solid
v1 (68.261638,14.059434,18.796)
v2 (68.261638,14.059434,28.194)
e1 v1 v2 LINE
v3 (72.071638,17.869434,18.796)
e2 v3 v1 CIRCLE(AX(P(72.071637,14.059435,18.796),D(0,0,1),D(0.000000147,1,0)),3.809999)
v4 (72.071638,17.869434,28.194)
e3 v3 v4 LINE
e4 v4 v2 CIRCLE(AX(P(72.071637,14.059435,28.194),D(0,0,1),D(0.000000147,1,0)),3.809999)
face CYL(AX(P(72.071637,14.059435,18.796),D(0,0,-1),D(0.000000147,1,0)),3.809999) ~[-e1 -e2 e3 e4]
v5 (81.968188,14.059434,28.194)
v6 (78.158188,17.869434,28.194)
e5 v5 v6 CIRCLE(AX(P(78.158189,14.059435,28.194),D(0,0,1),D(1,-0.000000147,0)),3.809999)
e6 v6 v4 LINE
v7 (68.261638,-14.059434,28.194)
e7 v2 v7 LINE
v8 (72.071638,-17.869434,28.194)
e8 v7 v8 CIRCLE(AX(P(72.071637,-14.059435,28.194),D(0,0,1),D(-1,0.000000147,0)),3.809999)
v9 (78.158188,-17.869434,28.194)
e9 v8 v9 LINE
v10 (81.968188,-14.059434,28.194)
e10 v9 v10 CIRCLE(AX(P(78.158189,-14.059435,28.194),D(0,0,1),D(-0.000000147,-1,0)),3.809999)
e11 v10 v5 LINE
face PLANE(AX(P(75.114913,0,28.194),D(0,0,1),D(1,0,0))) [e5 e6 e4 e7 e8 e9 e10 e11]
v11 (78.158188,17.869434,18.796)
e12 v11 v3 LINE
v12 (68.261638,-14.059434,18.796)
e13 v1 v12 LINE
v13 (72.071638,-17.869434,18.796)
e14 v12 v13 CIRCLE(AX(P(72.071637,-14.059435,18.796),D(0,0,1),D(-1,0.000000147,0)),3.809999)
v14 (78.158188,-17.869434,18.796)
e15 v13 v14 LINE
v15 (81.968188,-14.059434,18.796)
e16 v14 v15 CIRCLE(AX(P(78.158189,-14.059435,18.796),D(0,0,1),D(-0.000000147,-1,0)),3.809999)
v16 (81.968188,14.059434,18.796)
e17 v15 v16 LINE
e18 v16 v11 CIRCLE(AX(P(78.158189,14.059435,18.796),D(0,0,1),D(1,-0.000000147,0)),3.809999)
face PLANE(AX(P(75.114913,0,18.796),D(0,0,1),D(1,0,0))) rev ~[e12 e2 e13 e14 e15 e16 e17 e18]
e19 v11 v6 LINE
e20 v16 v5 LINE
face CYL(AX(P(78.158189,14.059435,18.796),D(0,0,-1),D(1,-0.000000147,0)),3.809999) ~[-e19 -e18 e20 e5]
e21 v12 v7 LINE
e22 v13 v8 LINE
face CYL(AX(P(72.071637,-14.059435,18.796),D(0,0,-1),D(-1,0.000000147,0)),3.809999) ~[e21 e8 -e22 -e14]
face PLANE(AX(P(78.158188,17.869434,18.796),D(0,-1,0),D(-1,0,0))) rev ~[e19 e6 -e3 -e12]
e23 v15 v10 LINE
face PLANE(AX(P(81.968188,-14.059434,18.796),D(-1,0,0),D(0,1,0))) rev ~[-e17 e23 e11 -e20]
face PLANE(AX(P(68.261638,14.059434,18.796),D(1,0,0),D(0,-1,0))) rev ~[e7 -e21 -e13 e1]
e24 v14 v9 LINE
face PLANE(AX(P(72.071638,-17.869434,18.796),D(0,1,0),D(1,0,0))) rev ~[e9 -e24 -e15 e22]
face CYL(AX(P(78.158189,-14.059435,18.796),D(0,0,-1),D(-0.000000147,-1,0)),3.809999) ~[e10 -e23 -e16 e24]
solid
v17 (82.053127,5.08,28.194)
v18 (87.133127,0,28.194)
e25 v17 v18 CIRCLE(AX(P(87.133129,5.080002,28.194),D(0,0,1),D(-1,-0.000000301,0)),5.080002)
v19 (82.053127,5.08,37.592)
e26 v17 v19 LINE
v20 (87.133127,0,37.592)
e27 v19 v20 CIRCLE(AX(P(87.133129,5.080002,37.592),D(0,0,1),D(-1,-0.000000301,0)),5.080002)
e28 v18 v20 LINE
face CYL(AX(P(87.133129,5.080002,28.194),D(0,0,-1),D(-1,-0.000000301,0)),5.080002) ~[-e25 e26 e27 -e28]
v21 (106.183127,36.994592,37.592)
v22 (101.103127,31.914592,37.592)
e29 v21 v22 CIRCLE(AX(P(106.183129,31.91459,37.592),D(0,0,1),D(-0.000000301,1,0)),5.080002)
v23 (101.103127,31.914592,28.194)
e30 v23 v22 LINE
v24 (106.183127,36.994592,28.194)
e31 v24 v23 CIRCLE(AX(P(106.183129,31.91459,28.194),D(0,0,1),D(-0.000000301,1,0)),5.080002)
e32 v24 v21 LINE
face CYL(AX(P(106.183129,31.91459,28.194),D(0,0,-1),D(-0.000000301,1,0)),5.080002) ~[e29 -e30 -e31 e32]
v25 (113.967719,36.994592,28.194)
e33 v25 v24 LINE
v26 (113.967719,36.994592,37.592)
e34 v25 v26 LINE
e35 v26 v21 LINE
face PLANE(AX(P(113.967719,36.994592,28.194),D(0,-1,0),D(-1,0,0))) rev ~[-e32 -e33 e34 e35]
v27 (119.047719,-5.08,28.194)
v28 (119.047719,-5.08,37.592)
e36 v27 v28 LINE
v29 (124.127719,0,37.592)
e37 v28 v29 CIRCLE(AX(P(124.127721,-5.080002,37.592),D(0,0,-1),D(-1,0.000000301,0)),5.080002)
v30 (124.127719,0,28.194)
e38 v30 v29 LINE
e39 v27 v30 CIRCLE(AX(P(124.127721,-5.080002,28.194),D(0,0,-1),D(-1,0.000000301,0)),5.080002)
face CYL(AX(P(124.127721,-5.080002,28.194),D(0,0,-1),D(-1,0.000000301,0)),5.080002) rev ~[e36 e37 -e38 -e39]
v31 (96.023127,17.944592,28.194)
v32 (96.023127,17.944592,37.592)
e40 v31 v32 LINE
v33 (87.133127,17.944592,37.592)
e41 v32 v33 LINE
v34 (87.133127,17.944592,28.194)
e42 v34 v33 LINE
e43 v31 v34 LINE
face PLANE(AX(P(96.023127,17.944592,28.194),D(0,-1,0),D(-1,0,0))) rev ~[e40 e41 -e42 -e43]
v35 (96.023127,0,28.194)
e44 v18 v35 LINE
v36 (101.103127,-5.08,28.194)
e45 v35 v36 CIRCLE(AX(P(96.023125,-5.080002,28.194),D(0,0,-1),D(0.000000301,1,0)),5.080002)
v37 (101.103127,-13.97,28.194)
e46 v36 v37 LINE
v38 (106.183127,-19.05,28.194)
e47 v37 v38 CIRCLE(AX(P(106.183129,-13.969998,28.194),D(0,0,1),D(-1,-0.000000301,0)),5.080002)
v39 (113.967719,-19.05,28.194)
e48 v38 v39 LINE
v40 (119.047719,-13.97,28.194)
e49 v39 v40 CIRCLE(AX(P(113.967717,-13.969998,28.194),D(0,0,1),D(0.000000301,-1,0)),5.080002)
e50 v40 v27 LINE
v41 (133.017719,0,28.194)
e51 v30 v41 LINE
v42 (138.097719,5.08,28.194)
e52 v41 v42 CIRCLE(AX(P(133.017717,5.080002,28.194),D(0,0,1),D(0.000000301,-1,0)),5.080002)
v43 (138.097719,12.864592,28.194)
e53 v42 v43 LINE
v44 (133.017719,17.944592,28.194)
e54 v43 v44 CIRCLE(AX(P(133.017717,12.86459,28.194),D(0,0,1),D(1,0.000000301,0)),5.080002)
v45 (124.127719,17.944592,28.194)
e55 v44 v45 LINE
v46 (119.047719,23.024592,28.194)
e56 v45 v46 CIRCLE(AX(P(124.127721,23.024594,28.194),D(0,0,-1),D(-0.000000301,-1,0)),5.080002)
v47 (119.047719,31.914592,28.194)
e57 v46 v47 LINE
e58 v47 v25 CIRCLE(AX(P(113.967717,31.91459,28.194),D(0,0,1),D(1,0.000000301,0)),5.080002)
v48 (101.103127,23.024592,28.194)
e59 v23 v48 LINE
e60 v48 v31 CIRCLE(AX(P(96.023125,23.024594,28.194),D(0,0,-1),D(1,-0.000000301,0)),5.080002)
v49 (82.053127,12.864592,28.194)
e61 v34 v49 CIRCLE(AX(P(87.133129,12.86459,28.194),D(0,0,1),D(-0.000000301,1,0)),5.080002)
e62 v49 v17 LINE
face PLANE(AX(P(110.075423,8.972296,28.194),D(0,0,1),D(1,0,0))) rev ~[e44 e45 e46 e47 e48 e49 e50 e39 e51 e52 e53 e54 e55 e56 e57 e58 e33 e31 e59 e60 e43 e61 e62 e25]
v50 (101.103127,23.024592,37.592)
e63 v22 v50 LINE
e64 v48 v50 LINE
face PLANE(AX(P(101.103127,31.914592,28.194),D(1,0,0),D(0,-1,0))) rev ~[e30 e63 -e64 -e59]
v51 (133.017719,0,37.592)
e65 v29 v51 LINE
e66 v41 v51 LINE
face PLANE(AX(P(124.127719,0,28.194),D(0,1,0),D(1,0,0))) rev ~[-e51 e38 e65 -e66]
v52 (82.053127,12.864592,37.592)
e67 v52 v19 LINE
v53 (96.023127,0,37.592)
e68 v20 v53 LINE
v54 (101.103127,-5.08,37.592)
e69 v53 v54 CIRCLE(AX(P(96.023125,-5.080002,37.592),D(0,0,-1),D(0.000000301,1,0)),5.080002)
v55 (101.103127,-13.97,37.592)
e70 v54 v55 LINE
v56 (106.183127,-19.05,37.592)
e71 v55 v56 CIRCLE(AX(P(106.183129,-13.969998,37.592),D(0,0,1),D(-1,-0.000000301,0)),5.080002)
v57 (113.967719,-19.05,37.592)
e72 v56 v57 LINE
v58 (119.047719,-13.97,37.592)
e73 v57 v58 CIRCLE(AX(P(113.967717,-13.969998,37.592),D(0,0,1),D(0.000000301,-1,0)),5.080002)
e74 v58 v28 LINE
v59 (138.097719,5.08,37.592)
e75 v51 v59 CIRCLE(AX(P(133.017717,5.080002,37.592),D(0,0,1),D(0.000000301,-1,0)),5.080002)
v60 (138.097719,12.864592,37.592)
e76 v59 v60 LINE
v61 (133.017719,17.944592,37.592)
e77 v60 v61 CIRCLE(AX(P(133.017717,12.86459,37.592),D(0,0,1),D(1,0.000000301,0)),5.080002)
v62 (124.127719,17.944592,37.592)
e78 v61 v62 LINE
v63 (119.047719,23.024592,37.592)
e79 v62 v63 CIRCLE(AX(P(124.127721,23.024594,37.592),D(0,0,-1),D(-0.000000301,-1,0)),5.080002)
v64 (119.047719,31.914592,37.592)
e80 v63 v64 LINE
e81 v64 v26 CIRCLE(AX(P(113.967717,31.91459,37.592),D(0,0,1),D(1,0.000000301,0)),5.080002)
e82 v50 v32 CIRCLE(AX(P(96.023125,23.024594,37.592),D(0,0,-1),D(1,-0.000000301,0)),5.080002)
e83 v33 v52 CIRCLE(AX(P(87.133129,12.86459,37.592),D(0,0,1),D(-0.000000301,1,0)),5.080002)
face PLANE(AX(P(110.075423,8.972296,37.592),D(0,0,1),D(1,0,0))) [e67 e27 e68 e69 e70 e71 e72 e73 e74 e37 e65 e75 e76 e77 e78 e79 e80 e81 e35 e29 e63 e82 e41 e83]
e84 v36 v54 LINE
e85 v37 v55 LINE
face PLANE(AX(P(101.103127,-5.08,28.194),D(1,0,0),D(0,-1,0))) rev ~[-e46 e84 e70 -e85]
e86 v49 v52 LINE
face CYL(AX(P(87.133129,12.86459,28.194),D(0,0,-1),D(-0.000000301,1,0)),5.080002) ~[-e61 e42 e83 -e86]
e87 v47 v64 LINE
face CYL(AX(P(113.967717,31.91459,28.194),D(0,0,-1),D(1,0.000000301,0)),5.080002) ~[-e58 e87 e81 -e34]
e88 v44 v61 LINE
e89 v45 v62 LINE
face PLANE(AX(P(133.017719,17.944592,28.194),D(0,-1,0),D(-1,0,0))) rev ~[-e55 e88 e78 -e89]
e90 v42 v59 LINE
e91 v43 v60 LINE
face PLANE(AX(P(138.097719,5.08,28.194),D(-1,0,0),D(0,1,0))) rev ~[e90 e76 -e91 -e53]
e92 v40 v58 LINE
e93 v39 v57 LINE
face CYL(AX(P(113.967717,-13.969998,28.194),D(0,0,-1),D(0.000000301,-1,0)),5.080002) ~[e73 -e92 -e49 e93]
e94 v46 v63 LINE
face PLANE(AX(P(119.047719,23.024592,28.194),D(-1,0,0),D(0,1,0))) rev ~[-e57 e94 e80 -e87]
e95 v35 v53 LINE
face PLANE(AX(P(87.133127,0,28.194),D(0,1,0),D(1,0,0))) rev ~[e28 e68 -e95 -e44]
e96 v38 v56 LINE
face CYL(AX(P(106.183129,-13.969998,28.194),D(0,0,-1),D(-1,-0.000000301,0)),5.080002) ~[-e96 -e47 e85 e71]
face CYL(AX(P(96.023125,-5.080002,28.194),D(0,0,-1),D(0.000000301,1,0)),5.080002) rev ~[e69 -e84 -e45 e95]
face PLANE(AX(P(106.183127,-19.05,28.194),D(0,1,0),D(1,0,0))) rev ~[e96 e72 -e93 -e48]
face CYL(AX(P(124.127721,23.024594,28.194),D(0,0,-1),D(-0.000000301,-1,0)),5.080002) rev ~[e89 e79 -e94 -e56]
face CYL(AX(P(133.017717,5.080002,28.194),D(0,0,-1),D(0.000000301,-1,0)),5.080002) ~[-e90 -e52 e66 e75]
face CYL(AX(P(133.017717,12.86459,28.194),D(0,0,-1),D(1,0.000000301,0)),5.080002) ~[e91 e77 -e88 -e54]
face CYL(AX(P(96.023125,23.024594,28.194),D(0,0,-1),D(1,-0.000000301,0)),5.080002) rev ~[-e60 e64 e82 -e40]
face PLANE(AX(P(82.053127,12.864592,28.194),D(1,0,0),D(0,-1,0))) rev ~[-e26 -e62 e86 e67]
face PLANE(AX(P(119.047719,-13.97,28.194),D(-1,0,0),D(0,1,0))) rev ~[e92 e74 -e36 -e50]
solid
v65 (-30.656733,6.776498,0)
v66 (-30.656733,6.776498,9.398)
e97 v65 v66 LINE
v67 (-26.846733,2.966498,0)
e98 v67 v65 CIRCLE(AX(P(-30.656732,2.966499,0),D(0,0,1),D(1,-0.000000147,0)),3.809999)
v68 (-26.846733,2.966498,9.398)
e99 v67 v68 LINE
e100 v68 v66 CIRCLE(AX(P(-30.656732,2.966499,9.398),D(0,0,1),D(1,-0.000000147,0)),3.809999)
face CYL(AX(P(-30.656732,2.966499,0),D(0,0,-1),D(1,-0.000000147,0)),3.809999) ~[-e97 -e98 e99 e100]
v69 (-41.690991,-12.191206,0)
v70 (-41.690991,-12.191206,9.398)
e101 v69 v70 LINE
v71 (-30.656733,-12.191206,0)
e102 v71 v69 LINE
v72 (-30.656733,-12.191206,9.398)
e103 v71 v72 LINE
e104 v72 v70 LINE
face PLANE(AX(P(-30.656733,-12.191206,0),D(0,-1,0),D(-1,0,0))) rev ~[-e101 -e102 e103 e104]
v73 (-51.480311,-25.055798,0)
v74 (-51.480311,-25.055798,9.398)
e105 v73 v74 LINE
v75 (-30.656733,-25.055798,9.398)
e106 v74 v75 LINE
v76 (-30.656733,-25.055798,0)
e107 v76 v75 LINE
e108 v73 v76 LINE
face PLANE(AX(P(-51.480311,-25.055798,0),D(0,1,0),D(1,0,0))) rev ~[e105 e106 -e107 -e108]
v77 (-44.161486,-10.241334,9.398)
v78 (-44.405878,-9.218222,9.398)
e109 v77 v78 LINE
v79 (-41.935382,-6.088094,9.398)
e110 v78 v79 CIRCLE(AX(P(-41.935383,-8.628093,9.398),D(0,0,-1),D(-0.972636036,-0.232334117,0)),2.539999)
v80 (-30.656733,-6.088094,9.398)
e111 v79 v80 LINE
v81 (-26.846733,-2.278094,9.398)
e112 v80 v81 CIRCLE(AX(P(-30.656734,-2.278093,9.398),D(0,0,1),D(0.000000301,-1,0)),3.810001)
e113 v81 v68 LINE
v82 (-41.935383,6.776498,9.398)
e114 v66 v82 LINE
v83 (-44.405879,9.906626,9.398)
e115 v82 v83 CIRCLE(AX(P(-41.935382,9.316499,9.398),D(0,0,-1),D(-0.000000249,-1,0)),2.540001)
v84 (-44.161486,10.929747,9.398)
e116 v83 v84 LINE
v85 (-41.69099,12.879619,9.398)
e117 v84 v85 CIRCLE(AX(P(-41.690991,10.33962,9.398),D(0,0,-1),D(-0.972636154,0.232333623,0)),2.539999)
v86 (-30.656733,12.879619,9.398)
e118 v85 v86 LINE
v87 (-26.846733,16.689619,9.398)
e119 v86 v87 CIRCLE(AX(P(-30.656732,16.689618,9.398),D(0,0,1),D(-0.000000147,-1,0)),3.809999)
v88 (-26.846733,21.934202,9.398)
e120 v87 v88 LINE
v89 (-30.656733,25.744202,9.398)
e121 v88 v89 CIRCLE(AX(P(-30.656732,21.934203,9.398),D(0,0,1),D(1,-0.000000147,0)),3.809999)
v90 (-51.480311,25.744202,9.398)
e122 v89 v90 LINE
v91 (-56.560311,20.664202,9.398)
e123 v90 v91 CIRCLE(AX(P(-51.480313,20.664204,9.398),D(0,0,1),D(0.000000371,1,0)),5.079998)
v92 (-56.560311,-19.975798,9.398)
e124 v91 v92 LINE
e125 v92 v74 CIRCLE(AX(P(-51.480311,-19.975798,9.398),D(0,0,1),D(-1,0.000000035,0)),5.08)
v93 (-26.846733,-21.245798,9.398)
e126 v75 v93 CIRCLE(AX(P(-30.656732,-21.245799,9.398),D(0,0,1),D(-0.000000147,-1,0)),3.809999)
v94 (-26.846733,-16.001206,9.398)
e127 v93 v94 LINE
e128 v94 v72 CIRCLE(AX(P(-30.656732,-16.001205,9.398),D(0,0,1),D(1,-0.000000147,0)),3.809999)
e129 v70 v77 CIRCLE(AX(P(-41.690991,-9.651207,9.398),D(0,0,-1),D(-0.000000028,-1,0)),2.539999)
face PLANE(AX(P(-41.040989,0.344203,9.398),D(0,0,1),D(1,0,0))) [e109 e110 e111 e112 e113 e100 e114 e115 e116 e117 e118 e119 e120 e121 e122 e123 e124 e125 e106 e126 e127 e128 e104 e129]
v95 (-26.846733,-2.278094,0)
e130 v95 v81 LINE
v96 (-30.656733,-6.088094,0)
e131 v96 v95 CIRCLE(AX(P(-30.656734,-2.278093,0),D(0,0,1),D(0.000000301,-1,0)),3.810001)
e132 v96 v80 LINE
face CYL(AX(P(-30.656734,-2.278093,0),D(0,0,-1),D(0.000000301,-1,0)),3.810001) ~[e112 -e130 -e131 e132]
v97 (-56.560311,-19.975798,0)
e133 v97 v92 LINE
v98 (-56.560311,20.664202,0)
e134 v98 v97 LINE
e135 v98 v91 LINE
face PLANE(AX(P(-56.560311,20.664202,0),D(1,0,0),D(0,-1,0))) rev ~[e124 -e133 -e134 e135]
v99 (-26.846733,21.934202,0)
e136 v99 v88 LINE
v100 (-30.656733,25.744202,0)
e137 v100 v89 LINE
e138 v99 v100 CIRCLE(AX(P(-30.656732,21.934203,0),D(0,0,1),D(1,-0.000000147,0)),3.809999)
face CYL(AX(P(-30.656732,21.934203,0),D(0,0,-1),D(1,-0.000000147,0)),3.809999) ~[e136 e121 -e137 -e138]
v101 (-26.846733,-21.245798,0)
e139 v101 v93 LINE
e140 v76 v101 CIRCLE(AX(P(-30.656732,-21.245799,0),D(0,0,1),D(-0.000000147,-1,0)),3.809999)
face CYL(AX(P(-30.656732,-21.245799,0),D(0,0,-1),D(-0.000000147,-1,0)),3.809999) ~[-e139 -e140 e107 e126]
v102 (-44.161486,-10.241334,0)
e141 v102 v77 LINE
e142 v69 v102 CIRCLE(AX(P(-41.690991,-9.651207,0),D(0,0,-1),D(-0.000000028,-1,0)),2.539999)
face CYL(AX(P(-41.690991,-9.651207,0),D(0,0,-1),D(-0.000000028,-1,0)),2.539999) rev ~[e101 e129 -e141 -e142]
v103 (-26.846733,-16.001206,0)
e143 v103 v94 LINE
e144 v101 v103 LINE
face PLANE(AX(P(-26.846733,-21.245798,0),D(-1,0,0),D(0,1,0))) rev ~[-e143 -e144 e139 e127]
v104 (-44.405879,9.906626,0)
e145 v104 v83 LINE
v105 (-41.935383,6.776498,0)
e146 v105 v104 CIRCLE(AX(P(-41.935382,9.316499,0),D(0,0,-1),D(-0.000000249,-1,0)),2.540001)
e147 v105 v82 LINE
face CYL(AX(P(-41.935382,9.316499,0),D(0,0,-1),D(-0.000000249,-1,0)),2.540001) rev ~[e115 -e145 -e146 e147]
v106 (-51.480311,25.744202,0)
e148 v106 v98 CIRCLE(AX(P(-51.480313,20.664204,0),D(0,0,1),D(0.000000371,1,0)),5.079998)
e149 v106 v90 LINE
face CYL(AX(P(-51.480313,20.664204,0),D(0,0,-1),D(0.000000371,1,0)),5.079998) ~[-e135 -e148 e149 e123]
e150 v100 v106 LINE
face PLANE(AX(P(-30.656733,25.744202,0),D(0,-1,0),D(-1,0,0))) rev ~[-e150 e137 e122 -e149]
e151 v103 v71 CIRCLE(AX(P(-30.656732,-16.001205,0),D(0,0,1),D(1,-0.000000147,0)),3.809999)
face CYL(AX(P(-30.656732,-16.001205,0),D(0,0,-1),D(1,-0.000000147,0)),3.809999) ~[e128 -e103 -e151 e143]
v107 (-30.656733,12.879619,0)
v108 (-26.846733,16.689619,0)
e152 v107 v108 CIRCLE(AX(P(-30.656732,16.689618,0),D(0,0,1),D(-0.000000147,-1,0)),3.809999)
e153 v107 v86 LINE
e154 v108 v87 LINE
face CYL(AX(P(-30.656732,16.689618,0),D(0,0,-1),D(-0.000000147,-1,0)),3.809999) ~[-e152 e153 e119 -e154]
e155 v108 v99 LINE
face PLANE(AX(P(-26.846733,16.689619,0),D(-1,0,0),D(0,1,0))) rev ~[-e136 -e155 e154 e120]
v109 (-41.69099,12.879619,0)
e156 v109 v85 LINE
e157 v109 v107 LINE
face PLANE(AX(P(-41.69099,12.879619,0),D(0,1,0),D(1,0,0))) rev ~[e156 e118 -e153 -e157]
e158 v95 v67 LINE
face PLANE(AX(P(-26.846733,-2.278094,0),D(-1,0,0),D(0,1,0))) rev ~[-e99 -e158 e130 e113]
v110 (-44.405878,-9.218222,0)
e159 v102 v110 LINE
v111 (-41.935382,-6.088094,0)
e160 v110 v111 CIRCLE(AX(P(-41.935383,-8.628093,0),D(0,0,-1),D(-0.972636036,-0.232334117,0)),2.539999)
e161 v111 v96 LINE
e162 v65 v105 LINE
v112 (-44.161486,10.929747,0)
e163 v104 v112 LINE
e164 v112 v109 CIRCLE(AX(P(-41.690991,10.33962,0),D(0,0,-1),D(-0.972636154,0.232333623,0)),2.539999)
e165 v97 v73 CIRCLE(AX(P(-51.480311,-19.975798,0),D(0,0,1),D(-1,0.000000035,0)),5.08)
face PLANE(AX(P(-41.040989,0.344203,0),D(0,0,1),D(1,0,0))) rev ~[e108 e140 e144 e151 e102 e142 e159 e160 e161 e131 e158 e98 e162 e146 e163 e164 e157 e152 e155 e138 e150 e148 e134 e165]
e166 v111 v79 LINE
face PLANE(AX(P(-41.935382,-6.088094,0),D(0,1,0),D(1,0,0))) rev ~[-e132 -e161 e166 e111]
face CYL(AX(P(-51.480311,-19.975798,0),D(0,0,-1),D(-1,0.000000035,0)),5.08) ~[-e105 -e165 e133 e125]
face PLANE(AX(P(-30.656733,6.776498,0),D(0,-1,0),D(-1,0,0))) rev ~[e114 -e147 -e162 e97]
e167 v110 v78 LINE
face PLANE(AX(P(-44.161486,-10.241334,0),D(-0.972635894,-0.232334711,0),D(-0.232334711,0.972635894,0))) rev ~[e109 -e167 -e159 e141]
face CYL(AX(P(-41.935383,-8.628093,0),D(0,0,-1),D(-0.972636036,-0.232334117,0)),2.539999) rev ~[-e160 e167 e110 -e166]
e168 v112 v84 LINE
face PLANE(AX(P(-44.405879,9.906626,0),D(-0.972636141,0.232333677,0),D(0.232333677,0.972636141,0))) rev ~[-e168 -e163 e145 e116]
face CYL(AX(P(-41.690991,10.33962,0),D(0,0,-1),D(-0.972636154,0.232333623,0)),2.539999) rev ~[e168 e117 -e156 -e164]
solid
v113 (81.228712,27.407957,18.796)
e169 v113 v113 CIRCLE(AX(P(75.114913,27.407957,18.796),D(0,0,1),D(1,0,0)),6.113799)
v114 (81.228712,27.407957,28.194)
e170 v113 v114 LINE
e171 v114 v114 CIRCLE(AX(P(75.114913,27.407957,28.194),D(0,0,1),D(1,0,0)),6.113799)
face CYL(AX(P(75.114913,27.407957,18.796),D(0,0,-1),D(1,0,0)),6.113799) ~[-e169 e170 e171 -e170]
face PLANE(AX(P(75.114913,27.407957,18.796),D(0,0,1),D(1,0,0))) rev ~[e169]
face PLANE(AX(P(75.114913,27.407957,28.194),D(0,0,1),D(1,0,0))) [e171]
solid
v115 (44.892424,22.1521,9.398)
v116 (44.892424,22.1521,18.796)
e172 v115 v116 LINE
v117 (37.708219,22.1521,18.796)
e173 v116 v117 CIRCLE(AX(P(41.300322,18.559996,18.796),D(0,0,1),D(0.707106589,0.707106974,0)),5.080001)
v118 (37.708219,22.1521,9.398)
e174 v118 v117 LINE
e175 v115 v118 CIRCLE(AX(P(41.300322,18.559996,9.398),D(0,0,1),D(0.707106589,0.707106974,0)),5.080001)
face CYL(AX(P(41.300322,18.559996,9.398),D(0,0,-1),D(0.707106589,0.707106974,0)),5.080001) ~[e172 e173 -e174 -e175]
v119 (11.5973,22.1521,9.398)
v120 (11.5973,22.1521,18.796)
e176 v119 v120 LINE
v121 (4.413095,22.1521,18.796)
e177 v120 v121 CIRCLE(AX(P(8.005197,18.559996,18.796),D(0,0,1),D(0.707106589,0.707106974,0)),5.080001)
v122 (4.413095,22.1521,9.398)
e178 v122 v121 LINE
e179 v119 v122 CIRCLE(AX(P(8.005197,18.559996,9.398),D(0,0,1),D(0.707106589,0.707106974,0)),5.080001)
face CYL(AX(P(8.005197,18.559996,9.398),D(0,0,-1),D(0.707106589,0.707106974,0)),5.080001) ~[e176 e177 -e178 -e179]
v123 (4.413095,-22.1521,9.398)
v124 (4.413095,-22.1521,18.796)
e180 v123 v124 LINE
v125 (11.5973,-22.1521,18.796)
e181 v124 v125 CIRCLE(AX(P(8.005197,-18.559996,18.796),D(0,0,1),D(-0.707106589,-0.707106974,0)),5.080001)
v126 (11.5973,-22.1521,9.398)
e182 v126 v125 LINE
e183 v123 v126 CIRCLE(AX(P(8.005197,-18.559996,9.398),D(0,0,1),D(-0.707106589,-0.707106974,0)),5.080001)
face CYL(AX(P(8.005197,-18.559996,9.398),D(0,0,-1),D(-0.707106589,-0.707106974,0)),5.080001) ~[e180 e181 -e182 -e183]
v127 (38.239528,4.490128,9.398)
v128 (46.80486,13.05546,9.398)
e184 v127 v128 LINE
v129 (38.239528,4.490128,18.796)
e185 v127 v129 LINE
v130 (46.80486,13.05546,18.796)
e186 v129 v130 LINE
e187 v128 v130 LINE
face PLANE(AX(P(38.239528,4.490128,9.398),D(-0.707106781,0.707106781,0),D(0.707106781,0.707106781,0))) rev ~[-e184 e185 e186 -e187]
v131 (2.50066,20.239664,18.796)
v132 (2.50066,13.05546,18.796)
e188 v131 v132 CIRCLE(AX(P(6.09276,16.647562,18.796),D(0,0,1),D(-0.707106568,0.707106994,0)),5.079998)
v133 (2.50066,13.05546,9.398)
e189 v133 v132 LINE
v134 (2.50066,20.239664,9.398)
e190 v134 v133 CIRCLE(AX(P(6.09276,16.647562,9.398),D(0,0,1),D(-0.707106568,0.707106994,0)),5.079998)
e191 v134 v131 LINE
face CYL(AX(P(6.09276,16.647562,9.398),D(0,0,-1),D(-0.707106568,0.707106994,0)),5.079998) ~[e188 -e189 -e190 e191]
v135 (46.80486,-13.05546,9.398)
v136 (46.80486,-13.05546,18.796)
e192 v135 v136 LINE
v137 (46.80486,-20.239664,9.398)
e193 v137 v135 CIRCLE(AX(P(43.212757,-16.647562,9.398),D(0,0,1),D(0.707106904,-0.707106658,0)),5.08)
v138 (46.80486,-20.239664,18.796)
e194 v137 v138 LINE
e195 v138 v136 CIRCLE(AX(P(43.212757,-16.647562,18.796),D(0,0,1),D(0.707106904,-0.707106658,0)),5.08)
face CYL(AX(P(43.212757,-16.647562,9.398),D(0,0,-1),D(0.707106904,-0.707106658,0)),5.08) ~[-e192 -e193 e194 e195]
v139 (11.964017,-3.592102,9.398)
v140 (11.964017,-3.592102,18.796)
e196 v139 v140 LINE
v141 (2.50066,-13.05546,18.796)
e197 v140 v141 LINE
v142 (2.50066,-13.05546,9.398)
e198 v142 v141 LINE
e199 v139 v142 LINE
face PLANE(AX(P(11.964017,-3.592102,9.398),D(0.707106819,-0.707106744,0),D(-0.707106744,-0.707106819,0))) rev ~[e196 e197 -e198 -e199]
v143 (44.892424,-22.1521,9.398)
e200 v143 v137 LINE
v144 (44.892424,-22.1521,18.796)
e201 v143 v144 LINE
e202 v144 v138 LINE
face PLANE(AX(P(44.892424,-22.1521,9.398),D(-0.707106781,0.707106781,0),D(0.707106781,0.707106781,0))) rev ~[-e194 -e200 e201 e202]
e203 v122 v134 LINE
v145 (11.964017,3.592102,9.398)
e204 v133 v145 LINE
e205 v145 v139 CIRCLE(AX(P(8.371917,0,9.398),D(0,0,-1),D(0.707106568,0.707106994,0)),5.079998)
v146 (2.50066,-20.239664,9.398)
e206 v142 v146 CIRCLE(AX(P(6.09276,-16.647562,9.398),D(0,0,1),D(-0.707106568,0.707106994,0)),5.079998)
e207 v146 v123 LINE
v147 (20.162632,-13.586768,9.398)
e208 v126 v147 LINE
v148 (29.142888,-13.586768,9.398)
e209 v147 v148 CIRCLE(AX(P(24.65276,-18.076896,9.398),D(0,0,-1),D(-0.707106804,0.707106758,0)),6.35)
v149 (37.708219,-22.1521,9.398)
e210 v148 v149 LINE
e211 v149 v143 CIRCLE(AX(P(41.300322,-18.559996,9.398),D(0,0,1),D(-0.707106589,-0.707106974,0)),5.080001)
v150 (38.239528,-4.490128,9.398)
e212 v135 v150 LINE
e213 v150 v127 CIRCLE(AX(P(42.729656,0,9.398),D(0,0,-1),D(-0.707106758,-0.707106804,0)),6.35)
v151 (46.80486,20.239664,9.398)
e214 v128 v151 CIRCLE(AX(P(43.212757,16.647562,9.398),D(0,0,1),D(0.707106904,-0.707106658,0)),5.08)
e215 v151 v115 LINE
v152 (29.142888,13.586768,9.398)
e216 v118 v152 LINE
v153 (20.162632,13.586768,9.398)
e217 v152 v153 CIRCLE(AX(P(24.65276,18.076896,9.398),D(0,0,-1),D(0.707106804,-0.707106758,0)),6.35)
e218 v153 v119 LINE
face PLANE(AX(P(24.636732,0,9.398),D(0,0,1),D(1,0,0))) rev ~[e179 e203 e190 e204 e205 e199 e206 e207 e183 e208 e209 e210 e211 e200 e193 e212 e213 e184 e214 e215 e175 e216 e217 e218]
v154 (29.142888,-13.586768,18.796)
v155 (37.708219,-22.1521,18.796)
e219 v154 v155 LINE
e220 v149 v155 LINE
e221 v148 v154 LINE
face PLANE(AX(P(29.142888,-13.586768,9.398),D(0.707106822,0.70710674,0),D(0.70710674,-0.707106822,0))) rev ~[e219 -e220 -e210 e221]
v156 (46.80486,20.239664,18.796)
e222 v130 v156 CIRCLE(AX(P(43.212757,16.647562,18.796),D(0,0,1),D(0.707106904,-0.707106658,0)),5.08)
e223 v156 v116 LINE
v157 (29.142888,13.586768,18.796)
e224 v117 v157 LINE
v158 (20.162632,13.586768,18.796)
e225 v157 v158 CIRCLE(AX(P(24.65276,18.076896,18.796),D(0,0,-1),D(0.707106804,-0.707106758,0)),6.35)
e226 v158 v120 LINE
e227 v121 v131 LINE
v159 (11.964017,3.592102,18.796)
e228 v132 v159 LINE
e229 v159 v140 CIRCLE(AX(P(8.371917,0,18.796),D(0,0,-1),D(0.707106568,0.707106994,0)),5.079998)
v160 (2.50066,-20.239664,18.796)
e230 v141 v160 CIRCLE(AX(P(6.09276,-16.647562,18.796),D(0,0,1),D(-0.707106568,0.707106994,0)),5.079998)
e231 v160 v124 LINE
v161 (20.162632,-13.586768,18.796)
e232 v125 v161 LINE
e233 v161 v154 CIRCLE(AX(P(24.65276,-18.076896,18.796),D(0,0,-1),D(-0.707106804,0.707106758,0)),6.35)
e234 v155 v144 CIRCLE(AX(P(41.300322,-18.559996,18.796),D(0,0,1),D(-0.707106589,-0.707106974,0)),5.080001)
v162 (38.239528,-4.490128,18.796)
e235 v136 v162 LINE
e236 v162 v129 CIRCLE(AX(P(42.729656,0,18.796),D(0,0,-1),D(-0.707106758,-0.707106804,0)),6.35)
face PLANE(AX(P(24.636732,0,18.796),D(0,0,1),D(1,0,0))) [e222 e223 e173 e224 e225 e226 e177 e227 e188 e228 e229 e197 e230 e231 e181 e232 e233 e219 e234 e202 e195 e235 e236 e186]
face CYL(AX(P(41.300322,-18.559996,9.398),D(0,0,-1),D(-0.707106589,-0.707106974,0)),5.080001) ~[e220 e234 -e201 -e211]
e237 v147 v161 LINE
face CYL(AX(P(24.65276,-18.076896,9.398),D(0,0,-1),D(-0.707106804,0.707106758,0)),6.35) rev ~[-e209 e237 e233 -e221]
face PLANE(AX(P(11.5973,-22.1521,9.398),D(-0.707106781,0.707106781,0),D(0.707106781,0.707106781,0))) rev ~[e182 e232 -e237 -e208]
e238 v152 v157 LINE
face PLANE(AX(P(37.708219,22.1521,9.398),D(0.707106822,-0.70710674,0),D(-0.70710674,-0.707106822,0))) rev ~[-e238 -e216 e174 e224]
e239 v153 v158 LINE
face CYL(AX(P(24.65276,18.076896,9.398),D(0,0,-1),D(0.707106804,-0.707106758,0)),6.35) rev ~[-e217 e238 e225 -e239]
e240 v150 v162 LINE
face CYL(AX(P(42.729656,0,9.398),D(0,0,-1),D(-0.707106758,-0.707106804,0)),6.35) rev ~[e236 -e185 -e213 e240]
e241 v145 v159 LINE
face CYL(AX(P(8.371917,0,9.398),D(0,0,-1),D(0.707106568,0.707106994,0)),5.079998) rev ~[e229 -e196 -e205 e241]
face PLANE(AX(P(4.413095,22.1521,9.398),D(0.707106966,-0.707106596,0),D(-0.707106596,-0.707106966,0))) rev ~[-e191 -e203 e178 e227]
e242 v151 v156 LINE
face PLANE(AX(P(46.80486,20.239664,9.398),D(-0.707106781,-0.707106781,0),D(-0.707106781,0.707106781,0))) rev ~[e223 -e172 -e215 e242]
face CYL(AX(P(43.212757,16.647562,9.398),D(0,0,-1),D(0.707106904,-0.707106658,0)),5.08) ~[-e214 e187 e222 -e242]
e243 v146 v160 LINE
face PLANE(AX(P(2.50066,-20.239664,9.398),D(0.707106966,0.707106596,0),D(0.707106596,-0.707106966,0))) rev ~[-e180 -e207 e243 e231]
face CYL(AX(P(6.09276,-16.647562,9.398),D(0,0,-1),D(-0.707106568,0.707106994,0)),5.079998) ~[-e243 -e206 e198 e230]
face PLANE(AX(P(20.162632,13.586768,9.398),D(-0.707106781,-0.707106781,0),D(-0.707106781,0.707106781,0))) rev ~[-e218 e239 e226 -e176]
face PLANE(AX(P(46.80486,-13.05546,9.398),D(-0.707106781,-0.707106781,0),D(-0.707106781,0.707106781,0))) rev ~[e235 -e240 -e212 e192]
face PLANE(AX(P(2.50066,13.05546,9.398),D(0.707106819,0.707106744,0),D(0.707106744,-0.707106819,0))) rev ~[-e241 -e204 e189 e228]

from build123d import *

# Parameters (mm, degrees)
F1_DEPTH = 9.398
F3_DEPTH = 9.398
F5_DEPTH = 9.398
F4_R     = 6.113799
F6_DEPTH = 9.398
F8_DEPTH = 9.398


with BuildPart() as f1:
    # F0 (on Top) → F1 (new body)
    with BuildSketch(Plane.XY):
        with BuildLine():
            Line((-56.560311, 20.664202), (-56.560311, 0.344202))
            Line((-56.560311, 0.344202), (-56.560311, -19.975798))
            ThreePointArc((-56.560311, -19.975798), (-55.072414, -23.5679), (-51.480311, -25.055798))
            Line((-51.480311, -25.055798), (-30.656733, -25.055798))
            ThreePointArc((-30.656733, -25.055798), (-27.962656, -23.939875), (-26.846733, -21.245798))
            Line((-26.846733, -21.245798), (-26.846733, -16.001206))
            ThreePointArc((-26.846733, -16.001206), (-27.962656, -13.307129), (-30.656733, -12.191206))
            Line((-30.656733, -12.191206), (-41.690991, -12.191206))
            ThreePointArc((-41.690991, -12.191206), (-43.264629, -11.645012), (-44.161486, -10.241334))
            Line((-44.161486, -10.241334), (-44.405878, -9.218222))
            ThreePointArc((-44.405878, -9.218222), (-43.929189, -7.054456), (-41.935382, -6.088094))
            Line((-41.935382, -6.088094), (-30.656733, -6.088094))
            ThreePointArc((-30.656733, -6.088094), (-27.962656, -4.97217), (-26.846733, -2.278094))
            Line((-26.846733, -2.278094), (-26.846733, 2.966498))
            ThreePointArc((-26.846733, 2.966498), (-27.962656, 5.660575), (-30.656733, 6.776498))
            Line((-30.656733, 6.776498), (-41.935383, 6.776498))
            ThreePointArc((-41.935383, 6.776498), (-43.929189, 7.74286), (-44.405879, 9.906626))
            Line((-44.405879, 9.906626), (-44.161486, 10.929747))
            ThreePointArc((-44.161486, 10.929747), (-43.264629, 12.333425), (-41.69099, 12.879619))
            Line((-41.69099, 12.879619), (-30.656733, 12.879619))
            ThreePointArc((-30.656733, 12.879619), (-27.962656, 13.995542), (-26.846733, 16.689619))
            Line((-26.846733, 16.689619), (-26.846733, 21.934202))
            ThreePointArc((-26.846733, 21.934202), (-27.962656, 24.628279), (-30.656733, 25.744202))
            Line((-30.656733, 25.744202), (-51.480311, 25.744202))
            ThreePointArc((-51.480311, 25.744202), (-55.072414, 24.256305), (-56.560311, 20.664202))
        make_face()
    extrude(amount=F1_DEPTH)


with BuildPart() as f3:
    # F2 (on face) → F3 (new body)
    with BuildSketch(Plane.XY.offset(9.398)):
        with BuildLine():
            ThreePointArc((11.5973, 22.1521), (8.005198, 23.639997), (4.413095, 22.1521))
            Line((4.413095, 22.1521), (2.50066, 20.239664))
            ThreePointArc((2.50066, 20.239664), (1.012762, 16.647562), (2.50066, 13.05546))
            Line((2.50066, 13.05546), (11.964017, 3.592102))
            ThreePointArc((11.964017, 3.592102), (13.451915, 0), (11.964017, -3.592102))
            Line((11.964017, -3.592102), (2.50066, -13.05546))
            ThreePointArc((2.50066, -13.05546), (1.012762, -16.647562), (2.50066, -20.239664))
            Line((2.50066, -20.239664), (4.413095, -22.1521))
            ThreePointArc((4.413095, -22.1521), (8.005198, -23.639997), (11.5973, -22.1521))
            Line((11.5973, -22.1521), (20.162632, -13.586768))
            ThreePointArc((20.162632, -13.586768), (24.65276, -11.726896), (29.142888, -13.586768))
            Line((29.142888, -13.586768), (37.708219, -22.1521))
            ThreePointArc((37.708219, -22.1521), (41.300322, -23.639997), (44.892424, -22.1521))
            Line((44.892424, -22.1521), (46.80486, -20.239664))
            ThreePointArc((46.80486, -20.239664), (48.292757, -16.647562), (46.80486, -13.05546))
            Line((46.80486, -13.05546), (38.239528, -4.490128))
            ThreePointArc((38.239528, -4.490128), (36.379656, 0), (38.239528, 4.490128))
            Line((38.239528, 4.490128), (46.80486, 13.05546))
            ThreePointArc((46.80486, 13.05546), (48.292757, 16.647562), (46.80486, 20.239664))
            Line((46.80486, 20.239664), (44.892424, 22.1521))
            ThreePointArc((44.892424, 22.1521), (41.300322, 23.639997), (37.708219, 22.1521))
            Line((37.708219, 22.1521), (29.142888, 13.586768))
            ThreePointArc((29.142888, 13.586768), (24.65276, 11.726896), (20.162632, 13.586768))
            Line((20.162632, 13.586768), (11.5973, 22.1521))
        make_face()
    extrude(amount=F3_DEPTH)


with BuildPart() as f5:
    # F4 (on face) → F5 (new body)
    with BuildSketch(Plane.XY.offset(18.796)):
        with BuildLine():
            Line((78.158188, 17.869434), (72.071638, 17.869434))
            ThreePointArc((72.071638, 17.869434), (69.377561, 16.753511), (68.261638, 14.059434))
            Line((68.261638, 14.059434), (68.261638, -14.059434))
            ThreePointArc((68.261638, -14.059434), (69.377561, -16.753511), (72.071638, -17.869434))
            Line((72.071638, -17.869434), (78.158188, -17.869434))
            ThreePointArc((78.158188, -17.869434), (80.852265, -16.753511), (81.968188, -14.059434))
            Line((81.968188, -14.059434), (81.968188, 14.059434))
            ThreePointArc((81.968188, 14.059434), (80.852265, 16.753511), (78.158188, 17.869434))
        make_face()
    extrude(amount=F5_DEPTH)


with BuildPart() as f6:
    # F4 (on face) → F6 (new body)
    with BuildSketch(Plane.XY.offset(18.796)):
        with Locations((75.114913, 27.407957)):
            Circle(F4_R)
    extrude(amount=F6_DEPTH)


with BuildPart() as f8:
    # F7 (on face) → F8 (new body)
    with BuildSketch(Plane.XY.offset(28.194)):
        with BuildLine():
            ThreePointArc((106.183127, 36.994592), (102.591025, 35.506694), (101.103127, 31.914592))
            Line((101.103127, 31.914592), (101.103127, 23.024592))
            ThreePointArc((101.103127, 23.024592), (99.615229, 19.43249), (96.023127, 17.944592))
            Line((96.023127, 17.944592), (87.133127, 17.944592))
            ThreePointArc((87.133127, 17.944592), (83.541025, 16.456694), (82.053127, 12.864592))
            Line((82.053127, 12.864592), (82.053127, 5.08))
            ThreePointArc((82.053127, 5.08), (83.541025, 1.487898), (87.133127, 0))
            Line((87.133127, 0), (96.023127, 0))
            ThreePointArc((96.023127, 0), (99.615229, -1.487898), (101.103127, -5.08))
            Line((101.103127, -5.08), (101.103127, -13.97))
            ThreePointArc((101.103127, -13.97), (102.591025, -17.562102), (106.183127, -19.05))
            Line((106.183127, -19.05), (113.967719, -19.05))
            ThreePointArc((113.967719, -19.05), (117.559821, -17.562102), (119.047719, -13.97))
            Line((119.047719, -13.97), (119.047719, -5.08))
            ThreePointArc((119.047719, -5.08), (120.535617, -1.487898), (124.127719, 0))
            Line((124.127719, 0), (133.017719, 0))
            ThreePointArc((133.017719, 0), (136.609821, 1.487898), (138.097719, 5.08))
            Line((138.097719, 5.08), (138.097719, 12.864592))
            ThreePointArc((138.097719, 12.864592), (136.609821, 16.456694), (133.017719, 17.944592))
            Line((133.017719, 17.944592), (124.127719, 17.944592))
            ThreePointArc((124.127719, 17.944592), (120.535617, 19.43249), (119.047719, 23.024592))
            Line((119.047719, 23.024592), (119.047719, 31.914592))
            ThreePointArc((119.047719, 31.914592), (117.559821, 35.506694), (113.967719, 36.994592))
            Line((113.967719, 36.994592), (106.183127, 36.994592))
        make_face()
    extrude(amount=F8_DEPTH)


solid = Compound([f1.part, f3.part, f5.part, f6.part, f8.part])
